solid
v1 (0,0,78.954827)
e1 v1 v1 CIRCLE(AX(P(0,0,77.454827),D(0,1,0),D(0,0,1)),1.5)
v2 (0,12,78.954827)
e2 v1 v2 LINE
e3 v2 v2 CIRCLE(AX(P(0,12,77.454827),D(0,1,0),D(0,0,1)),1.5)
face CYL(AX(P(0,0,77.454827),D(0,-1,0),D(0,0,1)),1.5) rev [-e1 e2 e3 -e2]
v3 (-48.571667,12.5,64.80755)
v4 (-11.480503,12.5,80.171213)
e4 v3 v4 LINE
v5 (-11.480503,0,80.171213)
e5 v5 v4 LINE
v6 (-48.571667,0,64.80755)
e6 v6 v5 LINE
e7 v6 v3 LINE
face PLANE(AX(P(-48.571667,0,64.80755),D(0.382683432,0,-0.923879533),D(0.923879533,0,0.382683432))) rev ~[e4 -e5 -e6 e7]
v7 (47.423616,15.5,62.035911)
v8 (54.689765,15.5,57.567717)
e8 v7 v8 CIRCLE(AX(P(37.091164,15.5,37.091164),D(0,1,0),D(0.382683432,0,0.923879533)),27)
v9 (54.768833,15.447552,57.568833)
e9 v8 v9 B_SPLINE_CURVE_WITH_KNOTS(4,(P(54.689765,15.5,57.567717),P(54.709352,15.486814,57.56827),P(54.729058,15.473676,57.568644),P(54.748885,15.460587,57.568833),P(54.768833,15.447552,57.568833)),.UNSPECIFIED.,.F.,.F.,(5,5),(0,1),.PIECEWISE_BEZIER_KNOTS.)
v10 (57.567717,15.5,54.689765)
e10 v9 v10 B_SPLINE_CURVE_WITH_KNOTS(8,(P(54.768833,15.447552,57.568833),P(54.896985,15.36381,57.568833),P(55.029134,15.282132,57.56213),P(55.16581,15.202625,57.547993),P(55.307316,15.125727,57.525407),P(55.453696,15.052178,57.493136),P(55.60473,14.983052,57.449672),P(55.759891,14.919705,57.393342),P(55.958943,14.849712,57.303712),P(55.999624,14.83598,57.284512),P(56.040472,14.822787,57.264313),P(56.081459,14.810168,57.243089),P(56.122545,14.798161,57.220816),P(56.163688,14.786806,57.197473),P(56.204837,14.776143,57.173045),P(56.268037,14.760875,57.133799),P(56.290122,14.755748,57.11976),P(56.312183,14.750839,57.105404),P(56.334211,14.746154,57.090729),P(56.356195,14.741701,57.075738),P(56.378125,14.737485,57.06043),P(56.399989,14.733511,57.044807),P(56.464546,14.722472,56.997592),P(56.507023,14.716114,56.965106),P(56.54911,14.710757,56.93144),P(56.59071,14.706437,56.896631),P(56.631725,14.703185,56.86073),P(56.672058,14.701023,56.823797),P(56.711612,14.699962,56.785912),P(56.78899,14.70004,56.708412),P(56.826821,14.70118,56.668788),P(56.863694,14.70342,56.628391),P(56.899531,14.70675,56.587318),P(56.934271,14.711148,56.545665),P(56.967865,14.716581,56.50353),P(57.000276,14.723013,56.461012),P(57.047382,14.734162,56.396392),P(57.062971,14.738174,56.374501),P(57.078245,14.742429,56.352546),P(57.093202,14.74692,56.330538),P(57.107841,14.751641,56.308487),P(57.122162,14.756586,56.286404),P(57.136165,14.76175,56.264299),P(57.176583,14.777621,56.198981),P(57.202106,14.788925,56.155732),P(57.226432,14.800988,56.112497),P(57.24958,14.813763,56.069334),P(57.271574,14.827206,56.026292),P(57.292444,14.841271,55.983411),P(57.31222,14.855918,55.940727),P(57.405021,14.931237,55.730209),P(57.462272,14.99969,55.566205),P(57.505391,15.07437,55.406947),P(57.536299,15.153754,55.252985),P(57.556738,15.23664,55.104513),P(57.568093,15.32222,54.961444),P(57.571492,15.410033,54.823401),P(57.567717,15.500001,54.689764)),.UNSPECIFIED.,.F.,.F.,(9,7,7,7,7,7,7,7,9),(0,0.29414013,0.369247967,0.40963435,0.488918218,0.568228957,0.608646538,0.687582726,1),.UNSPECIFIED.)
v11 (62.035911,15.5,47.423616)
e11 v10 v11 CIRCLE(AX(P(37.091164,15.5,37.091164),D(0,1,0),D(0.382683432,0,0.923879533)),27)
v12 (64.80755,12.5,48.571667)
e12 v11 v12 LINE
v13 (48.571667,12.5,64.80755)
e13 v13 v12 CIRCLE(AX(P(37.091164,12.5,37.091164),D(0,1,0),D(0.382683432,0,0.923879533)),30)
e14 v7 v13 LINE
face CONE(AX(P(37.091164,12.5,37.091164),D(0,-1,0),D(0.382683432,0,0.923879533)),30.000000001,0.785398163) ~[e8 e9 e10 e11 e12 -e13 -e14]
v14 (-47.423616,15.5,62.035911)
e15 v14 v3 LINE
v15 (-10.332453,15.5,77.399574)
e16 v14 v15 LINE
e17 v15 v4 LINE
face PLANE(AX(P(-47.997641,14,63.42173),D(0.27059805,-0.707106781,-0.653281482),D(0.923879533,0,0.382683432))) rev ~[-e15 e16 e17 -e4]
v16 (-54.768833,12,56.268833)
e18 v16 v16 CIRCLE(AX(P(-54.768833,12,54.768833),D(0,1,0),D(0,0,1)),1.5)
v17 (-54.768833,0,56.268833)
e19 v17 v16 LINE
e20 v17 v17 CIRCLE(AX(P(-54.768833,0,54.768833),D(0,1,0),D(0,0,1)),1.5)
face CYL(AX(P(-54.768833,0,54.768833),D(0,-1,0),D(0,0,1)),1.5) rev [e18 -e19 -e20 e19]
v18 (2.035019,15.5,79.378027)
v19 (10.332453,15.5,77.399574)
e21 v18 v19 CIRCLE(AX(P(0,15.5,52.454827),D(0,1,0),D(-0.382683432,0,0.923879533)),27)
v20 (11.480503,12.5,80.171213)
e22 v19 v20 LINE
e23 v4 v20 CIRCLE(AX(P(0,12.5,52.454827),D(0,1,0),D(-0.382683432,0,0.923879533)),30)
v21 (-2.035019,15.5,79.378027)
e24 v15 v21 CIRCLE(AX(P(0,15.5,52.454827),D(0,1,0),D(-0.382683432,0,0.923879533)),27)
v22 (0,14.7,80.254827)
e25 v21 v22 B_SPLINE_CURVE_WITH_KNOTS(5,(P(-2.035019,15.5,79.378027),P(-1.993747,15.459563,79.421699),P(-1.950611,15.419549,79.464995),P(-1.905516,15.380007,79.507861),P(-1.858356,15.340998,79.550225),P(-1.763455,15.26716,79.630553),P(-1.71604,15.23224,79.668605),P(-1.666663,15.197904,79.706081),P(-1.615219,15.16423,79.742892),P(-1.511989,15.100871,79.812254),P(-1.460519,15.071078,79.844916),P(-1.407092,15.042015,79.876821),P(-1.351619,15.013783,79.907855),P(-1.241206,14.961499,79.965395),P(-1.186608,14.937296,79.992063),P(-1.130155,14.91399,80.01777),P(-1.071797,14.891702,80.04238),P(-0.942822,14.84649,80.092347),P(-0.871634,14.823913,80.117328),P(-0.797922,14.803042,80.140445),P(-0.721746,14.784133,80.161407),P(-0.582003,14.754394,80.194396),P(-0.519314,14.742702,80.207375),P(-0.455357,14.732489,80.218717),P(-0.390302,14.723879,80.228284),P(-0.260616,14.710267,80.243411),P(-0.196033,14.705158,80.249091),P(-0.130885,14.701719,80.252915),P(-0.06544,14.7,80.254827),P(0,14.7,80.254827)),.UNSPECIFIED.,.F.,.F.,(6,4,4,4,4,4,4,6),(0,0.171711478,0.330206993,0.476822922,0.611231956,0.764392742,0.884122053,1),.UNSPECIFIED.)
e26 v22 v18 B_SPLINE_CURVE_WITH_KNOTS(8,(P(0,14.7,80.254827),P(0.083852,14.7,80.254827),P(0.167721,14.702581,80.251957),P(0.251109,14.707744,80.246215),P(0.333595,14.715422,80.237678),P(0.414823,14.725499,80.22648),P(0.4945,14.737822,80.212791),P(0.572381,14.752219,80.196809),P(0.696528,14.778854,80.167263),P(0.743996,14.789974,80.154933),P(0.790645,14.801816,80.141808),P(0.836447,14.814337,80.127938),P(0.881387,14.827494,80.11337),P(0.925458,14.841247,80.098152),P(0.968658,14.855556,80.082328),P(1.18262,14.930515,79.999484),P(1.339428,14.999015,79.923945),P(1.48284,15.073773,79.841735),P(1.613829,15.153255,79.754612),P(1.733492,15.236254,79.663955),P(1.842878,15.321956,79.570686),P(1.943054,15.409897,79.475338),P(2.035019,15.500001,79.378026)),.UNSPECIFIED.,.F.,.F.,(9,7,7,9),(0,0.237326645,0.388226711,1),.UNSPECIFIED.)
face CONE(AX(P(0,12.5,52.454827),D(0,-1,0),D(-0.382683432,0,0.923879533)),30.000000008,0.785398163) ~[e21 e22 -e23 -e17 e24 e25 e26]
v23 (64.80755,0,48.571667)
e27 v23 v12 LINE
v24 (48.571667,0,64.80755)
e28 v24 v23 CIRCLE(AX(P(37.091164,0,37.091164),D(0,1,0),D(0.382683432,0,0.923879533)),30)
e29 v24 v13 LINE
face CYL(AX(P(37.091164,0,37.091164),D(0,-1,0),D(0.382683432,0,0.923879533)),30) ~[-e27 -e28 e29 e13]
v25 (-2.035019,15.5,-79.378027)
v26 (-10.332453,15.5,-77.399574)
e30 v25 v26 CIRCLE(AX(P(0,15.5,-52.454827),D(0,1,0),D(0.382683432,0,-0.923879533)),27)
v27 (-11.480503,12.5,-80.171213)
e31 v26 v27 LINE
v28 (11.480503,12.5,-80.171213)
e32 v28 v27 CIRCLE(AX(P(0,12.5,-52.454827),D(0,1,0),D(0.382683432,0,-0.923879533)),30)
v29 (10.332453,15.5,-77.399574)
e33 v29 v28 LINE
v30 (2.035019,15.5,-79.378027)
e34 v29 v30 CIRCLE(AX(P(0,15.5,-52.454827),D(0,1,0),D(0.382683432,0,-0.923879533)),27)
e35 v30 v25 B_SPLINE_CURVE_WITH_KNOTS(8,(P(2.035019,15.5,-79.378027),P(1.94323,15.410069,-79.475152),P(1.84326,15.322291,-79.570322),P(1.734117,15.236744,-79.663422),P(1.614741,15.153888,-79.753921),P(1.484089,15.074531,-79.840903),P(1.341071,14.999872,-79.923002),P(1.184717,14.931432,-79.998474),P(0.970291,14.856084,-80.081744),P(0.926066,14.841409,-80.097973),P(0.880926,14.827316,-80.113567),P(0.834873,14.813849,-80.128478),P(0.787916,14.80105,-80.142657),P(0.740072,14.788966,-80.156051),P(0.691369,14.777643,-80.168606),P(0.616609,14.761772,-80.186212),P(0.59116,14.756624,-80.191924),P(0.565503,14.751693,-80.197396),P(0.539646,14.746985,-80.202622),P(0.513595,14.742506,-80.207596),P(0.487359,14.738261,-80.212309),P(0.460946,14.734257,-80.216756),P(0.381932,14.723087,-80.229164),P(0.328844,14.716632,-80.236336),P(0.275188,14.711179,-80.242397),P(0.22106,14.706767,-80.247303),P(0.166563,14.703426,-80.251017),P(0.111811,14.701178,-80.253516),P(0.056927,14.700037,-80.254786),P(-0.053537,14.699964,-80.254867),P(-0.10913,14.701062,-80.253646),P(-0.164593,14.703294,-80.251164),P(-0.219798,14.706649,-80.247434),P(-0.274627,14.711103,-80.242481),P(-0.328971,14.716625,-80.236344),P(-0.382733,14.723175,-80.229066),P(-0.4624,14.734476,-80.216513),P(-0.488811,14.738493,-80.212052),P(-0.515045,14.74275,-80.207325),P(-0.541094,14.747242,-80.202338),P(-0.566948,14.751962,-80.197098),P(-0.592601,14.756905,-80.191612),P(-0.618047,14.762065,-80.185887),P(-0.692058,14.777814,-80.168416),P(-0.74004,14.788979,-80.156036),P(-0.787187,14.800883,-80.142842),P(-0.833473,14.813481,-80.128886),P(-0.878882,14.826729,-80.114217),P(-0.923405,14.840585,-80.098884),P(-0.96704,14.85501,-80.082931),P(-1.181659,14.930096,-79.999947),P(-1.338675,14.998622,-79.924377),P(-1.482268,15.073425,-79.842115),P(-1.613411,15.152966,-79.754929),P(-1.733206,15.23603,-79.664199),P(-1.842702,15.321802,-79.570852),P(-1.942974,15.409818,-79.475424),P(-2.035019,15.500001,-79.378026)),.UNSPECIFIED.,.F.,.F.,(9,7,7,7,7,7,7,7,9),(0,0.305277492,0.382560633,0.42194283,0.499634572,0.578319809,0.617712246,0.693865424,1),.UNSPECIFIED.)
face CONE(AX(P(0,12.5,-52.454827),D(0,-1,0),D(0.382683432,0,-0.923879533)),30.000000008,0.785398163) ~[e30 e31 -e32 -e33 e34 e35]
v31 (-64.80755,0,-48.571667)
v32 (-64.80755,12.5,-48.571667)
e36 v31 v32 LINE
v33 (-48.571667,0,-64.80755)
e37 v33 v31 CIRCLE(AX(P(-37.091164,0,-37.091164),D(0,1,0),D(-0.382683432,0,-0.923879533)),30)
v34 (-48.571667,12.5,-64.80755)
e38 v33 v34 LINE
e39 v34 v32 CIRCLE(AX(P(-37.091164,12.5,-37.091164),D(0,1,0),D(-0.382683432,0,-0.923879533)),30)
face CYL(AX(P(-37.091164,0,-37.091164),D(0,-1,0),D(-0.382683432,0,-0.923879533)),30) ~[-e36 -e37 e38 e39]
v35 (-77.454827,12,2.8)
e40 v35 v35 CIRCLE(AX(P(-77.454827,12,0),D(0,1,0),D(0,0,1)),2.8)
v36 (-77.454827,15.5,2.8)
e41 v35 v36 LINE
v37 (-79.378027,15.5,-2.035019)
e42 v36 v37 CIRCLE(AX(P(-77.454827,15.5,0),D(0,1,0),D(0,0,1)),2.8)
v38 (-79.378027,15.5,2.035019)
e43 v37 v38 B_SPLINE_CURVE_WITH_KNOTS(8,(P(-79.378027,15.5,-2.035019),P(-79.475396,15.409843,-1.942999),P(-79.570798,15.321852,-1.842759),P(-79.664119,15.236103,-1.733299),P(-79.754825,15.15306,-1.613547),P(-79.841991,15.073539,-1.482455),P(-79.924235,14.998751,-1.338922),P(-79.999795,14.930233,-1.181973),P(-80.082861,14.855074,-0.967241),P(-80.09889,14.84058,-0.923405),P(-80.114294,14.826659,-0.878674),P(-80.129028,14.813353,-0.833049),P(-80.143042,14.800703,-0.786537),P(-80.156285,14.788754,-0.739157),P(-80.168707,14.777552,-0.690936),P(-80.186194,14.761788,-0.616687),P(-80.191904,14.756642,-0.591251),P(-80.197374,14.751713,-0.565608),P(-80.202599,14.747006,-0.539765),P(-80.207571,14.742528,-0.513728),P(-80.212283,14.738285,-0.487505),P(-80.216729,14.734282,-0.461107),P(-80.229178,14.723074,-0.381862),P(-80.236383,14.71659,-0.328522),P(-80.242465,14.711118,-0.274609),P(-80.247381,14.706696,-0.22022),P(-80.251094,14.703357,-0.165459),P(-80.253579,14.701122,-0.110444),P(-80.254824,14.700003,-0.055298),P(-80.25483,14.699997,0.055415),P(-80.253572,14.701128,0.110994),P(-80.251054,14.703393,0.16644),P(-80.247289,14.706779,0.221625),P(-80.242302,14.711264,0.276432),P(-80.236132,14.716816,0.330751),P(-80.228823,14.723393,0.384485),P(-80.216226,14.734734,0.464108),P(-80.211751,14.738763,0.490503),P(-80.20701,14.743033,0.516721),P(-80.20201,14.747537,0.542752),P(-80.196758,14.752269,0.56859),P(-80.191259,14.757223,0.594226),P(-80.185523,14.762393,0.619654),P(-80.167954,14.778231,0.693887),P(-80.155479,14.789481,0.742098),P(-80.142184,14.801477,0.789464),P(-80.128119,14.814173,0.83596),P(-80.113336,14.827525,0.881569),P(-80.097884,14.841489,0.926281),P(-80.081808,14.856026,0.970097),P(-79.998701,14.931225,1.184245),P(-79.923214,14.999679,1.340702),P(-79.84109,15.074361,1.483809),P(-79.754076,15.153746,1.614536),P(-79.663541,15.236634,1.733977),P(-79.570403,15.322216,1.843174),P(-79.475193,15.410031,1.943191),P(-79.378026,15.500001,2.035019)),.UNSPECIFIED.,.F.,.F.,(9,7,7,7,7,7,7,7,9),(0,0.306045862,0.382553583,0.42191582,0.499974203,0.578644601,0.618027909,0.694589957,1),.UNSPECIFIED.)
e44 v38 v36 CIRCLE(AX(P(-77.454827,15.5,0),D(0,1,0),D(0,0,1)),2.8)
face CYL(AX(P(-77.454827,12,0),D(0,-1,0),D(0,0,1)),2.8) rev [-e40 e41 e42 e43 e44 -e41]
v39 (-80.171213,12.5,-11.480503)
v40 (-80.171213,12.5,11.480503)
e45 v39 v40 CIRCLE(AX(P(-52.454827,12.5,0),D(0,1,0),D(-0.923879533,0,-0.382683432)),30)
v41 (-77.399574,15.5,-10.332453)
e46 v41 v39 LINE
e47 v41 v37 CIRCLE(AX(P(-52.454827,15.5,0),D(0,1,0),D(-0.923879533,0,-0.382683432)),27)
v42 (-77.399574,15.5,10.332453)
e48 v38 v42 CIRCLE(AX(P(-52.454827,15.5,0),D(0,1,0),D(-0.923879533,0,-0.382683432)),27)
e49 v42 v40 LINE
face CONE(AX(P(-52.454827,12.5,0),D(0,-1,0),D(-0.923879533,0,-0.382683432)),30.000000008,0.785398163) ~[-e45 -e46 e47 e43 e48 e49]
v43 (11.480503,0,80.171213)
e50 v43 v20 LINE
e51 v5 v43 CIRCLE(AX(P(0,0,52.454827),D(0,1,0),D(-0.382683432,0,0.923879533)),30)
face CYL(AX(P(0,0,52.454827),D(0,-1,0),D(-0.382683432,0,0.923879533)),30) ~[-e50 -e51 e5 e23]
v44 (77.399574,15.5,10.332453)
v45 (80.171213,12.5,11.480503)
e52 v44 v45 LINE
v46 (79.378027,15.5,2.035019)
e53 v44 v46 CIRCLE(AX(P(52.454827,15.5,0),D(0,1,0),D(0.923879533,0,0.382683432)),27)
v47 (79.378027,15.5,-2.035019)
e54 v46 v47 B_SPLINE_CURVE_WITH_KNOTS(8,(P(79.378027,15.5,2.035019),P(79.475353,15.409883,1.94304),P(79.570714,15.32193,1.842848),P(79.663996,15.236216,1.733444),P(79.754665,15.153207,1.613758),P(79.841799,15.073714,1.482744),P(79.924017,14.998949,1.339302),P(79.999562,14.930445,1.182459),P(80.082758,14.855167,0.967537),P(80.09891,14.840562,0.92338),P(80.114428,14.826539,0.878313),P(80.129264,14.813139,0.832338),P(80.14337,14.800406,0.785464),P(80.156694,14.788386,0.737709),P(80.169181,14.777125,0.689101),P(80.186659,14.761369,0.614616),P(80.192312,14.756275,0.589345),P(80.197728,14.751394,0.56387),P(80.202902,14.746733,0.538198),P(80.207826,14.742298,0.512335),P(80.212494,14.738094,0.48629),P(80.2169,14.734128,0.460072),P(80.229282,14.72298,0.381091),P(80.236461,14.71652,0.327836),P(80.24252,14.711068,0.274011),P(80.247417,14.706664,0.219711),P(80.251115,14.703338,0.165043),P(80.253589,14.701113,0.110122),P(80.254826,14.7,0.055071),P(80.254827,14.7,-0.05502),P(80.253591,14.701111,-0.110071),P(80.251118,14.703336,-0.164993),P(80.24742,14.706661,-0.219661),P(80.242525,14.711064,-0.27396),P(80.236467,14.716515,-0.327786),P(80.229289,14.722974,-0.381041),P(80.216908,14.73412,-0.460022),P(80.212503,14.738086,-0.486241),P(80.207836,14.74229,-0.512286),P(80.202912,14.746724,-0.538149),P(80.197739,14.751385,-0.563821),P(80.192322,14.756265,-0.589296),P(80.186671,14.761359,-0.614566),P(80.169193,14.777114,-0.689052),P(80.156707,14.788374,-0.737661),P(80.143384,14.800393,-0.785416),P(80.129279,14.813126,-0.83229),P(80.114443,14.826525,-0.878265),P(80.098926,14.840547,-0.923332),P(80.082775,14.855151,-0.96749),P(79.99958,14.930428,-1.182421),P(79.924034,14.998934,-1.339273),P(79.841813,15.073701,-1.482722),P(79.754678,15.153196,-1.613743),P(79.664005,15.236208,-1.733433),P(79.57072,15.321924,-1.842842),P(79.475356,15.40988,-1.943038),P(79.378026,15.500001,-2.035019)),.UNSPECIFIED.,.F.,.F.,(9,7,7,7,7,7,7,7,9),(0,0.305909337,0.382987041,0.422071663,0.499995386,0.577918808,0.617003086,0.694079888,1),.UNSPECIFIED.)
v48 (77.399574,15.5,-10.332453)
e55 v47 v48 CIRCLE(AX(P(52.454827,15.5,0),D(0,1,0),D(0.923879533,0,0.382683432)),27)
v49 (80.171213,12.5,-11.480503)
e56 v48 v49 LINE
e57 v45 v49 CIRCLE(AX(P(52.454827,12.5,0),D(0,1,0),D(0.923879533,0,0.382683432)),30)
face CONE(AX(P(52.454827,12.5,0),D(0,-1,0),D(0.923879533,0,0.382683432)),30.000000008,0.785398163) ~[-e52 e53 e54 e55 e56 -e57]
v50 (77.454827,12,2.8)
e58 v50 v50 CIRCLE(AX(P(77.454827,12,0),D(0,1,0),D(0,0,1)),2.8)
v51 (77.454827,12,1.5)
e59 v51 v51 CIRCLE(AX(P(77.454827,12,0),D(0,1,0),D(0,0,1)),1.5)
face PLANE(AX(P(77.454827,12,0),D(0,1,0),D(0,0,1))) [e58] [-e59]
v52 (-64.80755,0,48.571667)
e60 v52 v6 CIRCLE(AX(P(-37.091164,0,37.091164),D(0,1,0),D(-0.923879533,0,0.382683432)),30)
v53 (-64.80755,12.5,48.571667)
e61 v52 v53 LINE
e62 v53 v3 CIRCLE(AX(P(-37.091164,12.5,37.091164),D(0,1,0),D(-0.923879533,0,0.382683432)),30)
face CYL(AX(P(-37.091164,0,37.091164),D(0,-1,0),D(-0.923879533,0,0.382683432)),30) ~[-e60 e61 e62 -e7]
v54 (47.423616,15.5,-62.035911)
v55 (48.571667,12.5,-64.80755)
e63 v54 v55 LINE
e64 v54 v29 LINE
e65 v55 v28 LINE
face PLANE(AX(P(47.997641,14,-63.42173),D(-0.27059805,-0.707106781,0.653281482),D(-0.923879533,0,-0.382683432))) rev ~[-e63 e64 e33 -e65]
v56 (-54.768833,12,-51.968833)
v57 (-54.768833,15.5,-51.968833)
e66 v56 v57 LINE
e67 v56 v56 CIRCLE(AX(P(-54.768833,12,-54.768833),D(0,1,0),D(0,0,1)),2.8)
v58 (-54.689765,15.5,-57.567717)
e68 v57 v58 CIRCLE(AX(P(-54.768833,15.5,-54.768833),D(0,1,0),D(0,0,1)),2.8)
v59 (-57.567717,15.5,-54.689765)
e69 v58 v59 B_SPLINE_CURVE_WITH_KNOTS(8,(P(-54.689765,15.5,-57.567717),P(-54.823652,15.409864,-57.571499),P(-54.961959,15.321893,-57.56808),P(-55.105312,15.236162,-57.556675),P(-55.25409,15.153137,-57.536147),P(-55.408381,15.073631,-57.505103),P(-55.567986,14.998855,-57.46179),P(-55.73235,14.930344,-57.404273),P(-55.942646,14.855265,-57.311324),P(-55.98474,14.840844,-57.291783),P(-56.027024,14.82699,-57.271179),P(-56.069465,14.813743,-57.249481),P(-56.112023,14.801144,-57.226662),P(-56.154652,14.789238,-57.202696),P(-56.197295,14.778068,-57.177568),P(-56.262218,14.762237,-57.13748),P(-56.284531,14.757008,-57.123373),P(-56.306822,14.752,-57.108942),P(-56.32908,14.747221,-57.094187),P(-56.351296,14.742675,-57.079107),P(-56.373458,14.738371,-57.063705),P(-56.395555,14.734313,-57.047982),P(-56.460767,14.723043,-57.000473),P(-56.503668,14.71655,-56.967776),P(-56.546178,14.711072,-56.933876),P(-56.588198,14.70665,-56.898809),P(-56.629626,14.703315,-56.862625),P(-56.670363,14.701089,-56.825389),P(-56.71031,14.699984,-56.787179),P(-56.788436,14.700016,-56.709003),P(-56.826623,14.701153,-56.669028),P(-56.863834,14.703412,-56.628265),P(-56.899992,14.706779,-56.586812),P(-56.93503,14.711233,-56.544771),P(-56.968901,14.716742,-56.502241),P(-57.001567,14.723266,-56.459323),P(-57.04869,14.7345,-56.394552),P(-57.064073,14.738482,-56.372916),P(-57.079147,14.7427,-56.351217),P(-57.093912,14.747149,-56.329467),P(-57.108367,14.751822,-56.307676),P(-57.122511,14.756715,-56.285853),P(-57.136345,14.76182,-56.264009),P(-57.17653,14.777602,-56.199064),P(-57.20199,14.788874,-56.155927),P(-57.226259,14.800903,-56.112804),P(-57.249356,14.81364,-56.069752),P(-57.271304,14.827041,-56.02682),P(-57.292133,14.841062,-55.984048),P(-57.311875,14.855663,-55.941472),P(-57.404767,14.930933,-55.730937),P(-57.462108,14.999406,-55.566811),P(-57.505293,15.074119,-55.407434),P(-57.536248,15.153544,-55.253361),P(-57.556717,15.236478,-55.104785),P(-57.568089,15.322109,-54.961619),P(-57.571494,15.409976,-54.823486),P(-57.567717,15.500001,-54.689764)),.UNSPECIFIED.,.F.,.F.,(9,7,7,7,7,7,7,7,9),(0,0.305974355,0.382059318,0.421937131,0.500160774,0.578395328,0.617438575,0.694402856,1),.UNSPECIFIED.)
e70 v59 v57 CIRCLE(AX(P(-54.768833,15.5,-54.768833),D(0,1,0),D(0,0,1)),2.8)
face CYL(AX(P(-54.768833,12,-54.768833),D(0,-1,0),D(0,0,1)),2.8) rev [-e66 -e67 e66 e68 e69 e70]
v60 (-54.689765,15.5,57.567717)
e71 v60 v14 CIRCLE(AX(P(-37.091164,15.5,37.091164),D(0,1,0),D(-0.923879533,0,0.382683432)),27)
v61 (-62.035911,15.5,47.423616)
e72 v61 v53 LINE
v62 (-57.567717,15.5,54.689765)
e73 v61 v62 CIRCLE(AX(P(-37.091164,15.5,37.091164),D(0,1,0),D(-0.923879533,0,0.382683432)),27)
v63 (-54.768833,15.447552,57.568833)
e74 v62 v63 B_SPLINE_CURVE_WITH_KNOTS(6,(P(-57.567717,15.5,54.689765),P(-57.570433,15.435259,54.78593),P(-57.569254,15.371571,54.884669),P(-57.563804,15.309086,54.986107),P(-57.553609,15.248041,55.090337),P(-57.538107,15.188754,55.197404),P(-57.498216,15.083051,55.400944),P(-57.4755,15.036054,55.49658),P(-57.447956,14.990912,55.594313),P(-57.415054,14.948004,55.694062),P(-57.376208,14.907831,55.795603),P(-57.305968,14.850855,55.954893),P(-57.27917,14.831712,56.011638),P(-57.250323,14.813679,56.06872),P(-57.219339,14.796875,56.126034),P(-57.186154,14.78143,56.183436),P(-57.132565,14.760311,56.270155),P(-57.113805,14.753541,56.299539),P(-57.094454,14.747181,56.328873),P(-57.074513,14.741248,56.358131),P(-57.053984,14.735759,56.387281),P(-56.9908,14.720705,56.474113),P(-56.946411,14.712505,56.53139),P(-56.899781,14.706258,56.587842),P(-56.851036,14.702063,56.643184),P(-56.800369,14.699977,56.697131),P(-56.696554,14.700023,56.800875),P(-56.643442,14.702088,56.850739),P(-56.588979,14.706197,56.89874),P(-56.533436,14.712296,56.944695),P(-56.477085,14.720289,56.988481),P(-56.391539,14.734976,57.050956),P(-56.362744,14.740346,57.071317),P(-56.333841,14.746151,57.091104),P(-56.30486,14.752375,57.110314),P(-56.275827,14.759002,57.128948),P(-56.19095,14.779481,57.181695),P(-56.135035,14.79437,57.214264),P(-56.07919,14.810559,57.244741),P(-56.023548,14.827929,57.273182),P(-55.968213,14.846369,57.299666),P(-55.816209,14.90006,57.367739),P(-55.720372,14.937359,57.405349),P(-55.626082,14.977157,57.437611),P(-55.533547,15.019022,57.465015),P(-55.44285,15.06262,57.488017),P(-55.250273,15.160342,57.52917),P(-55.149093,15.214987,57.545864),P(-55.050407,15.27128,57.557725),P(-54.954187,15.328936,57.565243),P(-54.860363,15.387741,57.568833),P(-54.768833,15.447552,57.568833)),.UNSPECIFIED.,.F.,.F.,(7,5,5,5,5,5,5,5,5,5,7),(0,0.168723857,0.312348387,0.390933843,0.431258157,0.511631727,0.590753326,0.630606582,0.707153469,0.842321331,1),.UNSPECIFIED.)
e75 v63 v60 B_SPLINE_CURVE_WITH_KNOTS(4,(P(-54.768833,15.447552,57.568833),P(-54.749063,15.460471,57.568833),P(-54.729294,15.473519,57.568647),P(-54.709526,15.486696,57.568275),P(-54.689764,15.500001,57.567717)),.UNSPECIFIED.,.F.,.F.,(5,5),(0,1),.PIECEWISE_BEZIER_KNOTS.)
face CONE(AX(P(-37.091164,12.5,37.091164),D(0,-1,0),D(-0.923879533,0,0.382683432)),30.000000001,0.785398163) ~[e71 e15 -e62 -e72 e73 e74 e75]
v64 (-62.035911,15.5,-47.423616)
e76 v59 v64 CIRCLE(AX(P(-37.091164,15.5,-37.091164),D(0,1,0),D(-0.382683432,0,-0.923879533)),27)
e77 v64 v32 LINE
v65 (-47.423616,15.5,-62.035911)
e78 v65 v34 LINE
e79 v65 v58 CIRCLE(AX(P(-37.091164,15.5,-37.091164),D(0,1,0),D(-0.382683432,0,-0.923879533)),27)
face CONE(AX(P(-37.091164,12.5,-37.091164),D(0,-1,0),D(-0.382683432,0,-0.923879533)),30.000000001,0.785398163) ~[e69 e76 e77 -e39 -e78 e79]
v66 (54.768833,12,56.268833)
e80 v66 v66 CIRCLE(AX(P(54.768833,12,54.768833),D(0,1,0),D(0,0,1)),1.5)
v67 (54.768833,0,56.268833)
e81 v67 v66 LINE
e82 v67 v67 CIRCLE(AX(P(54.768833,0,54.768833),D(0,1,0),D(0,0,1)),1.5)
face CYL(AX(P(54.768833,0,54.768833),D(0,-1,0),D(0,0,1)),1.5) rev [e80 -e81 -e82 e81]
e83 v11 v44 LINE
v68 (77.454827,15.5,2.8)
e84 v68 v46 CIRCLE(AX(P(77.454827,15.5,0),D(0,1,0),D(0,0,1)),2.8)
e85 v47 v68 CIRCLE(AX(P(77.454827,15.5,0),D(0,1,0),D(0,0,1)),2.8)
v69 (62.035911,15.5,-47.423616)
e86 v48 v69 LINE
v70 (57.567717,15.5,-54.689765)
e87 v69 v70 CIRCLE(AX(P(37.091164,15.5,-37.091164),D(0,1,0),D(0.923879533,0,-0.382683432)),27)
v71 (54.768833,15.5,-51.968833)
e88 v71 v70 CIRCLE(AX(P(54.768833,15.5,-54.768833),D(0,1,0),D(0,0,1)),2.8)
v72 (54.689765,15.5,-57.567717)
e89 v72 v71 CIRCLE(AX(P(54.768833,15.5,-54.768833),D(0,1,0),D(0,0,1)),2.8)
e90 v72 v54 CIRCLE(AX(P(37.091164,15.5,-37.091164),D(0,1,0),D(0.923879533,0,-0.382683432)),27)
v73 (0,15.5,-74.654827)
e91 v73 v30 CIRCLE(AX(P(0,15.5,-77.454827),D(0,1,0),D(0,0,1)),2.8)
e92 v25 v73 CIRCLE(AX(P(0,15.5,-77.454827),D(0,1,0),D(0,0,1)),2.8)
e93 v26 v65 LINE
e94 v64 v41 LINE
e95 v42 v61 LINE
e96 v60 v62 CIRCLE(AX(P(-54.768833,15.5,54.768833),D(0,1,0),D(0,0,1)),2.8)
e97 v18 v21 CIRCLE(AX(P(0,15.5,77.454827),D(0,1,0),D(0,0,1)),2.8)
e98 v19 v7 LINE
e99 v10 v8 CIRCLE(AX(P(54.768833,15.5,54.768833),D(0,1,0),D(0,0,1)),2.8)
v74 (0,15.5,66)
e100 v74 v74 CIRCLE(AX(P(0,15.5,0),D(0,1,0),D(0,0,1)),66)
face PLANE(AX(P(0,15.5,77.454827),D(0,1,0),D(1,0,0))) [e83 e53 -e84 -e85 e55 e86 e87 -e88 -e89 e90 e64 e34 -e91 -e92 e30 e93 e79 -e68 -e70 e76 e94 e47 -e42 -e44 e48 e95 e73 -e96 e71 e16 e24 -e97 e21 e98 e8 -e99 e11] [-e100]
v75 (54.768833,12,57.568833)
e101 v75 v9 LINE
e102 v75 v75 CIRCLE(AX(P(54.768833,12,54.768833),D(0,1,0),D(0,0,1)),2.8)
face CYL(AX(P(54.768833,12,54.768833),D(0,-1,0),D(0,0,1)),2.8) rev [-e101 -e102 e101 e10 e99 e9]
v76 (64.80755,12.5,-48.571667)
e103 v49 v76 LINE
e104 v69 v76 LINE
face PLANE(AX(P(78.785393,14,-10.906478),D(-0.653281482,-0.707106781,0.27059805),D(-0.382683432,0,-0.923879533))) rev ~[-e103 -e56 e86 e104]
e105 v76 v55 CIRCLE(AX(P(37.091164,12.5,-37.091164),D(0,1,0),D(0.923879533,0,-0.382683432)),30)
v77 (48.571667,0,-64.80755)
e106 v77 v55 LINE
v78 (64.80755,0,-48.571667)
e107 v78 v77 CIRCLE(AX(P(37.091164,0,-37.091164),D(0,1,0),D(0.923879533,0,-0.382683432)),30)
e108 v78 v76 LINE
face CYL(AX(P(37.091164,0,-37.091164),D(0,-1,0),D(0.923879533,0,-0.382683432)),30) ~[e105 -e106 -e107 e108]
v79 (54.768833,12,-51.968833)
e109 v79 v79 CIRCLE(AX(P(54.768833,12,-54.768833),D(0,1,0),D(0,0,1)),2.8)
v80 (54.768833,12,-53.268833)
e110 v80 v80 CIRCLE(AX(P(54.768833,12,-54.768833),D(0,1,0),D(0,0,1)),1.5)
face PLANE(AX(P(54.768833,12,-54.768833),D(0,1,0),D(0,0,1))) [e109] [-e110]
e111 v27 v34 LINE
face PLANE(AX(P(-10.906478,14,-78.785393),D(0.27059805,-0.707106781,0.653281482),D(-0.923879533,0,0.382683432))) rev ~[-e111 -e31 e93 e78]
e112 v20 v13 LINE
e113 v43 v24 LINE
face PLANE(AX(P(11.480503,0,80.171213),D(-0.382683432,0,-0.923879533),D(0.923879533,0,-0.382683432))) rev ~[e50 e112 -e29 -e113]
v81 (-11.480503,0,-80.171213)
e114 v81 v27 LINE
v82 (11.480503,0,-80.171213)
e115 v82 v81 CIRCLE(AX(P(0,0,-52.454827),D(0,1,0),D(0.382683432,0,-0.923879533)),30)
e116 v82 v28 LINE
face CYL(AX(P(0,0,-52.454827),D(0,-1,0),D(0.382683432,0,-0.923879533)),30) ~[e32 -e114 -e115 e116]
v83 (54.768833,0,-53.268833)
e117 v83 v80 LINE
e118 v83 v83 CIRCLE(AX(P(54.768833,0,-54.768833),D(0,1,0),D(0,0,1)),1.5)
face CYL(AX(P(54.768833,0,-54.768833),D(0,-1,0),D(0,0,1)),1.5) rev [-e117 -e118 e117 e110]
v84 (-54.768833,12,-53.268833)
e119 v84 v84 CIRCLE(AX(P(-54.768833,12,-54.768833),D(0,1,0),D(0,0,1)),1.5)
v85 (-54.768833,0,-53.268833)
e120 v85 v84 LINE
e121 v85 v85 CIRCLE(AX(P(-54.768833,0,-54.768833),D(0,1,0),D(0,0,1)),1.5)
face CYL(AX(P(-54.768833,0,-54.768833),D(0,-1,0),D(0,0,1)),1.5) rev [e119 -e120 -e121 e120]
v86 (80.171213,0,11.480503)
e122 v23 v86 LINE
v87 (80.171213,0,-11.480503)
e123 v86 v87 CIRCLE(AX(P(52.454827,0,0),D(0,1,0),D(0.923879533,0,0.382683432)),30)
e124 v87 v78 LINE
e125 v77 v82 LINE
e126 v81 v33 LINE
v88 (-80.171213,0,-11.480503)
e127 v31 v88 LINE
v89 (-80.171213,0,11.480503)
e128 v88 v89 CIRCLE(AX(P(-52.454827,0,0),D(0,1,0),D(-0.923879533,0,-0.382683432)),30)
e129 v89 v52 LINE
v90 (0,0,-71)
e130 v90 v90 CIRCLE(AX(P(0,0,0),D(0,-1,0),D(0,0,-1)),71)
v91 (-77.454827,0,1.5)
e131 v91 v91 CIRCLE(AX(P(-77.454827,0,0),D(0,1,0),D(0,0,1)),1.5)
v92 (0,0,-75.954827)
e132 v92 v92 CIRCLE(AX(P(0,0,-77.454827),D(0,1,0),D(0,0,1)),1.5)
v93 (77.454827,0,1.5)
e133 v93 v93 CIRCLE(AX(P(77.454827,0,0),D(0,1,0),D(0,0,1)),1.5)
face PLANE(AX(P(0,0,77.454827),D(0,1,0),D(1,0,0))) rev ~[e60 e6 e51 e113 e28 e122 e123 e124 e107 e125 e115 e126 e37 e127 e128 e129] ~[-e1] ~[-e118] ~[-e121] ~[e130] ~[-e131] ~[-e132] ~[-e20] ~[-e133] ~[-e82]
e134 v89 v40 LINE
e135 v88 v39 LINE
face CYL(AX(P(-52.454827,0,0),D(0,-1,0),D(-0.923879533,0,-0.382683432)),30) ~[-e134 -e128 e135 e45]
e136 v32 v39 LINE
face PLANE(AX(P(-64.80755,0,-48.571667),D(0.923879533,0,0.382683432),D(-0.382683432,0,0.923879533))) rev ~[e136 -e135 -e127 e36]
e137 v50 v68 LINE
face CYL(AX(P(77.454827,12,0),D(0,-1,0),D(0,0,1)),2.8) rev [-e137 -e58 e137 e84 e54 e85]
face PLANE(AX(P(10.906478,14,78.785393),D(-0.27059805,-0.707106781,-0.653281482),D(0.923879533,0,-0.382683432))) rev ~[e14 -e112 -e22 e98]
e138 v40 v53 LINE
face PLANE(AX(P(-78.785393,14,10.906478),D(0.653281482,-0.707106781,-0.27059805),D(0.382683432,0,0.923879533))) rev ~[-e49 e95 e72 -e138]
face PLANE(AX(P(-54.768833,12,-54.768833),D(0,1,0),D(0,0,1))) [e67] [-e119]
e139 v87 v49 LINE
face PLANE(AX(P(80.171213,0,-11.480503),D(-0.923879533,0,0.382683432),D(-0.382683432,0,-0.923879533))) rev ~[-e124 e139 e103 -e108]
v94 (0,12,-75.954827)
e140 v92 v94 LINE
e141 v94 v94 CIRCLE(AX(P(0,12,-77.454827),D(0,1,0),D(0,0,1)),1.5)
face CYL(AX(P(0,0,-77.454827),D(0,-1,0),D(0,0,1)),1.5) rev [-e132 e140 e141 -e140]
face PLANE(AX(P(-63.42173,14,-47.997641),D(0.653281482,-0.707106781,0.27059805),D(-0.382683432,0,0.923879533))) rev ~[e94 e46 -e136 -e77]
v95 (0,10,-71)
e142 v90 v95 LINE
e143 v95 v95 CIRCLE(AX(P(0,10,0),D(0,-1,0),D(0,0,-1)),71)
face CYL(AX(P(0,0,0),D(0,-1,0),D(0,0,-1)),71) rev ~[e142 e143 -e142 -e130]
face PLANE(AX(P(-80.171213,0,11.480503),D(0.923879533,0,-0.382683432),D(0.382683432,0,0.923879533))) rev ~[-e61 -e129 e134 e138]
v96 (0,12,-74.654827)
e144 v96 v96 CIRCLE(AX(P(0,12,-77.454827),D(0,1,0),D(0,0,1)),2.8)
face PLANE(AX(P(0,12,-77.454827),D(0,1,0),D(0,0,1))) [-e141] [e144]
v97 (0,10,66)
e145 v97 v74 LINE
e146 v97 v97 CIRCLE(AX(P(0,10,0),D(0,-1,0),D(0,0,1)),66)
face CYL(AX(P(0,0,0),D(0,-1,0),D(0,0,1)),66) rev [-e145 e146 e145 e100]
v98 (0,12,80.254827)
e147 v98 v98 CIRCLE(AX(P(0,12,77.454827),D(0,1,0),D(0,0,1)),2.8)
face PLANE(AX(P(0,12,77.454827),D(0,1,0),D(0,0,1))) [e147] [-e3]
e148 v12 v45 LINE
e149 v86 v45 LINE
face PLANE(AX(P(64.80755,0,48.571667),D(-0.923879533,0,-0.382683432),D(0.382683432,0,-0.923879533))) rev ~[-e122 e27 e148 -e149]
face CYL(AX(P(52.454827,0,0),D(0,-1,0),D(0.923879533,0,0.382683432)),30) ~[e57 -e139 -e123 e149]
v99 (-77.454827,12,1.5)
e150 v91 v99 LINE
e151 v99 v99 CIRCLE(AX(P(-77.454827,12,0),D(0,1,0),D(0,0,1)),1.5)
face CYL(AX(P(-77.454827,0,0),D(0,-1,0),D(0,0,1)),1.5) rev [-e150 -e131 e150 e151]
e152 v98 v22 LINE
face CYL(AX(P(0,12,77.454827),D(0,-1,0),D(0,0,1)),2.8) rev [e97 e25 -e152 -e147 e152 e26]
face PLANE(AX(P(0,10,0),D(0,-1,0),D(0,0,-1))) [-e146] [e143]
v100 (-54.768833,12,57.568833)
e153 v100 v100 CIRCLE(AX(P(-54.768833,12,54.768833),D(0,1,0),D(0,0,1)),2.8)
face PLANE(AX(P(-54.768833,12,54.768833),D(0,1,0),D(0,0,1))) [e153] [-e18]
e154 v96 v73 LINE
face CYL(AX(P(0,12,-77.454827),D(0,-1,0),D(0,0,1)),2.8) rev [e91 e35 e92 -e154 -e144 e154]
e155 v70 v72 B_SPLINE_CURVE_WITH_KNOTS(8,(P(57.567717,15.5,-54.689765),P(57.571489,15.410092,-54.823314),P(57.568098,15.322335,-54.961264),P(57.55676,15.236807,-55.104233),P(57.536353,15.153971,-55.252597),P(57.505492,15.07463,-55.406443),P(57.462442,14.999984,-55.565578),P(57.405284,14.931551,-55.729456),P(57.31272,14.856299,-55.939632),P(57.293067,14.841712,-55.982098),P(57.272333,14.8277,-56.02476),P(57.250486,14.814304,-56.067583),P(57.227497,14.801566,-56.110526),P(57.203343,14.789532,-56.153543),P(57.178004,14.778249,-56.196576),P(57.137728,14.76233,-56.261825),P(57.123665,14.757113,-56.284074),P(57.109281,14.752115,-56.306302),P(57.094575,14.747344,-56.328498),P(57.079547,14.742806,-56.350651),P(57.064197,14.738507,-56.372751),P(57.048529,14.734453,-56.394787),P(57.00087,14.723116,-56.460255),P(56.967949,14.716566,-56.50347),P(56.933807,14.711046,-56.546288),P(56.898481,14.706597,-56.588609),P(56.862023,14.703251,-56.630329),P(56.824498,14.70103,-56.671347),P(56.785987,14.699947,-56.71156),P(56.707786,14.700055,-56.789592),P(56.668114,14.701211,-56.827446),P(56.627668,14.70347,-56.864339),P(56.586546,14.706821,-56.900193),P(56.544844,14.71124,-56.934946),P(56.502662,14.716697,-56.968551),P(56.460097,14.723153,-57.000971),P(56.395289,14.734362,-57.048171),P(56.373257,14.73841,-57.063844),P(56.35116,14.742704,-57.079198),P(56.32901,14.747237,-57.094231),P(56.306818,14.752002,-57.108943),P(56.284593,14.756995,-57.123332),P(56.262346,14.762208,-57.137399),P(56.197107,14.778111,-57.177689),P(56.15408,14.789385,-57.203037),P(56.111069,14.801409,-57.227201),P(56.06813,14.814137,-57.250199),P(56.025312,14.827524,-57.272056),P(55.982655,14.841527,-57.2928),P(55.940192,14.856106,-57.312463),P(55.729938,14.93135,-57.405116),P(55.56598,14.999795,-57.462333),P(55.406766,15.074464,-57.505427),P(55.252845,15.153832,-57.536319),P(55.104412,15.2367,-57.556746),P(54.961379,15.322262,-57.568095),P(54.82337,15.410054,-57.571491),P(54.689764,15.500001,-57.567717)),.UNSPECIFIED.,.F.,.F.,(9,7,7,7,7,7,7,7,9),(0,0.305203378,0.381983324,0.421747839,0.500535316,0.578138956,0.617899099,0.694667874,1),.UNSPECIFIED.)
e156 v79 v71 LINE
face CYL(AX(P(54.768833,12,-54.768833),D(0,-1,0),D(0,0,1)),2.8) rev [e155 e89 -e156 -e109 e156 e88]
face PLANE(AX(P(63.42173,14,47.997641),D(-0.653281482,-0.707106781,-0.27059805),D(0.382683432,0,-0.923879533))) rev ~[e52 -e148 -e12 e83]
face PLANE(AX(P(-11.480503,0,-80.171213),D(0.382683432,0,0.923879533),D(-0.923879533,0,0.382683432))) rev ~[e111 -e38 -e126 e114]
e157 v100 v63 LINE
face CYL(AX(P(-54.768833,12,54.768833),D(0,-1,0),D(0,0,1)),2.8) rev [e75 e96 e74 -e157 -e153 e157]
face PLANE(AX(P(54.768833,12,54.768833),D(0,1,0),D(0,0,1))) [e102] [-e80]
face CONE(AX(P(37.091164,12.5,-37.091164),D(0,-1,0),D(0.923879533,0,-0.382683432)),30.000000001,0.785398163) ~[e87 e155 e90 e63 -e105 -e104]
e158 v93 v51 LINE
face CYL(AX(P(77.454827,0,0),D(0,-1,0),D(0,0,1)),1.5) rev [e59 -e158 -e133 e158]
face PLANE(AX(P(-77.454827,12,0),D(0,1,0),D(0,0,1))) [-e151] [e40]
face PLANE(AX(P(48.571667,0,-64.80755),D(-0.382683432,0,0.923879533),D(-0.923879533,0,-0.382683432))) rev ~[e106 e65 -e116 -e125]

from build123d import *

# Parameters (mm, degrees)
SKETCH1_R           = 66
SKETCH1_R_2         = 2.8
SKETCH1_R_3         = 1.5
BOSS_EXTRUDE1_DEPTH = 15.5
SKETCH2_R           = 71
CUT_EXTRUDE1_DEPTH  = 10
CHAMFER1_SIZE       = 3
CUT_EXTRUDE2_START  = 12
SKETCH1_6_R         = 2.8
SKETCH1_6_R_2       = 1.5
CUT_EXTRUDE2_DEPTH  = 3.5


with BuildPart() as part:
    # Sketch1 → Boss-Extrude1 (new body)
    # profile 1 of 9: a face of its own
    with BuildSketch(Plane(origin=(0, 0, 0), x_dir=(1, 0, 0), z_dir=(0, 1, 0))):
        with BuildLine():
            Line((-48.571666642, -64.807549647), (-11.480502971, -80.171212684))
            ThreePointArc((-11.480502971, -80.171212684), (0, -82.454826708), (11.480502971, -80.171212684))
            Line((11.480502971, -80.171212684), (48.571666642, -64.807549647))
            ThreePointArc((48.571666642, -64.807549647), (58.304367107, -58.304367107), (64.807549647, -48.571666642))
            Line((64.807549647, -48.571666642), (80.171212684, -11.480502971))
            ThreePointArc((80.171212684, -11.480502971), (82.454826708, 0), (80.171212684, 11.480502971))
            Line((80.171212684, 11.480502971), (64.807549647, 48.571666642))
            ThreePointArc((64.807549647, 48.571666642), (58.304367107, 58.304367107), (48.571666642, 64.807549647))
            Line((48.571666642, 64.807549647), (11.480502971, 80.171212684))
            ThreePointArc((11.480502971, 80.171212684), (0, 82.454826708), (-11.480502971, 80.171212684))
            Line((-11.480502971, 80.171212684), (-48.571666642, 64.807549647))
            ThreePointArc((-48.571666642, 64.807549647), (-58.304367107, 58.304367107), (-64.807549647, 48.571666642))
            Line((-64.807549647, 48.571666642), (-80.171212684, 11.480502971))
            ThreePointArc((-80.171212684, 11.480502971), (-82.454826708, 0), (-80.171212684, -11.480502971))
            Line((-80.171212684, -11.480502971), (-64.807549647, -48.571666642))
            ThreePointArc((-64.807549647, -48.571666642), (-58.304367107, -58.304367107), (-48.571666642, -64.807549647))
        make_face()
        with Locations(Location((0, 0, 0), (0, 0, 270))):
            Circle(SKETCH1_R, mode=Mode.SUBTRACT)
        with Locations((-77.454826708, 0)):
            Circle(SKETCH1_R_2, mode=Mode.SUBTRACT)
        with Locations((-54.768833201, -54.768833201)):
            Circle(SKETCH1_R_2, mode=Mode.SUBTRACT)
        with Locations((0, -77.454826708)):
            Circle(SKETCH1_R_2, mode=Mode.SUBTRACT)
        with Locations((54.768833201, -54.768833201)):
            Circle(SKETCH1_R_2, mode=Mode.SUBTRACT)
        with Locations((77.454826708, 0)):
            Circle(SKETCH1_R_2, mode=Mode.SUBTRACT)
        with Locations((54.768833201, 54.768833201)):
            Circle(SKETCH1_R_2, mode=Mode.SUBTRACT)
        with Locations((0, 77.454826708)):
            Circle(SKETCH1_R_2, mode=Mode.SUBTRACT)
        with Locations((-54.768833201, 54.768833201)):
            Circle(SKETCH1_R_2, mode=Mode.SUBTRACT)
    # profile 2 of 9: a face of its own
    with BuildSketch(Plane(origin=(0, 0, 0), x_dir=(1, 0, 0), z_dir=(0, 1, 0))):
        with Locations((-54.768833201, -54.768833201)):
            Circle(SKETCH1_R_2)
        with Locations(Location((-54.768833201, -54.768833201, 0), (0, 0, 270))):
            Circle(SKETCH1_R_3, mode=Mode.SUBTRACT)
    # profile 3 of 9: a face of its own
    with BuildSketch(Plane(origin=(0, 0, 0), x_dir=(1, 0, 0), z_dir=(0, 1, 0))):
        with Locations((-77.454826708, 0)):
            Circle(SKETCH1_R_2)
        with Locations(Location((-77.454826708, 0, 0), (0, 0, 270))):
            Circle(SKETCH1_R_3, mode=Mode.SUBTRACT)
    # profile 4 of 9: a face of its own
    with BuildSketch(Plane(origin=(0, 0, 0), x_dir=(1, 0, 0), z_dir=(0, 1, 0))):
        with Locations((-54.768833201, 54.768833201)):
            Circle(SKETCH1_R_2)
        with Locations(Location((-54.768833201, 54.768833201, 0), (0, 0, 270))):
            Circle(SKETCH1_R_3, mode=Mode.SUBTRACT)
    # profile 5 of 9: a face of its own
    with BuildSketch(Plane(origin=(0, 0, 0), x_dir=(1, 0, 0), z_dir=(0, 1, 0))):
        with Locations((0, 77.454826708)):
            Circle(SKETCH1_R_2)
        with Locations(Location((0, 77.454826708, 0), (0, 0, 270))):
            Circle(SKETCH1_R_3, mode=Mode.SUBTRACT)
    # profile 6 of 9: a face of its own
    with BuildSketch(Plane(origin=(0, 0, 0), x_dir=(1, 0, 0), z_dir=(0, 1, 0))):
        with Locations((54.768833201, 54.768833201)):
            Circle(SKETCH1_R_2)
        with Locations(Location((54.768833201, 54.768833201, 0), (0, 0, 270))):
            Circle(SKETCH1_R_3, mode=Mode.SUBTRACT)
    # profile 7 of 9: a face of its own
    with BuildSketch(Plane(origin=(0, 0, 0), x_dir=(1, 0, 0), z_dir=(0, 1, 0))):
        with Locations((77.454826708, 0)):
            Circle(SKETCH1_R_2)
        with Locations(Location((77.454826708, 0, 0), (0, 0, 270))):
            Circle(SKETCH1_R_3, mode=Mode.SUBTRACT)
    # profile 8 of 9: a face of its own
    with BuildSketch(Plane(origin=(0, 0, 0), x_dir=(1, 0, 0), z_dir=(0, 1, 0))):
        with Locations((54.768833201, -54.768833201)):
            Circle(SKETCH1_R_2)
        with Locations(Location((54.768833201, -54.768833201, 0), (0, 0, 270))):
            Circle(SKETCH1_R_3, mode=Mode.SUBTRACT)
    # profile 9 of 9: a face of its own
    with BuildSketch(Plane(origin=(0, 0, 0), x_dir=(1, 0, 0), z_dir=(0, 1, 0))):
        with Locations((0, -77.454826708)):
            Circle(SKETCH1_R_2)
        with Locations(Location((0, -77.454826708, 0), (0, 0, 270))):
            Circle(SKETCH1_R_3, mode=Mode.SUBTRACT)
    extrude(amount=BOSS_EXTRUDE1_DEPTH)

    # Sketch2 → Cut-Extrude1 (cut)
    with BuildSketch(Plane.XZ):
        with Locations(Location((0, 0, 0), (0, 0, 270))):
            Circle(SKETCH2_R)
    extrude(amount=-CUT_EXTRUDE1_DEPTH, mode=Mode.SUBTRACT)

    # Chamfer1
    chamfer1_edges = [part.edges().sort_by_distance(p)[0] for p in [
        (-30.026084807, 15.5, 72.489381165),
        (0, 15.5, 82.454826708),
        (30.026084807, 15.5, 72.489381165),
        (58.304367107, 15.5, 58.304367107),
        (72.489381165, 15.5, 30.026084807),
        (82.454826708, 15.5, 0),
        (72.489381165, 15.5, -30.026084807),
        (58.304367107, 15.5, -58.304367107),
        (30.026084807, 15.5, -72.489381165),
        (0, 15.5, -82.454826708),
        (-30.026084807, 15.5, -72.489381165),
        (-58.304367107, 15.5, -58.304367107),
        (-72.489381165, 15.5, -30.026084807),
        (-82.454826708, 15.5, 0),
        (-72.489381165, 15.5, 30.026084807),
        (-58.304367107, 15.5, 58.304367107),
    ]]
    chamfer(chamfer1_edges, length=CHAMFER1_SIZE)

    # Sketch1<6> → Cut-Extrude2 (cut)
    # profile 1 of 8: a face of its own
    with BuildSketch(Plane(origin=(0, 0, 0), x_dir=(1, 0, 0), z_dir=(0, 1, 0)).offset(CUT_EXTRUDE2_START)):
        with Locations(Location((-54.768833201, -54.768833201, 0), (0, 0, 270))):
            Circle(SKETCH1_6_R)
        with Locations(Location((-54.768833201, -54.768833201, 0), (0, 0, 270))):
            Circle(SKETCH1_6_R_2, mode=Mode.SUBTRACT)
    # profile 2 of 8: a face of its own
    with BuildSketch(Plane(origin=(0, 0, 0), x_dir=(1, 0, 0), z_dir=(0, 1, 0)).offset(CUT_EXTRUDE2_START)):
        with Locations(Location((0, -77.454826708, 0), (0, 0, 270))):
            Circle(SKETCH1_6_R)
        with Locations(Location((0, -77.454826708, 0), (0, 0, 270))):
            Circle(SKETCH1_6_R_2, mode=Mode.SUBTRACT)
    # profile 3 of 8: a face of its own
    with BuildSketch(Plane(origin=(0, 0, 0), x_dir=(1, 0, 0), z_dir=(0, 1, 0)).offset(CUT_EXTRUDE2_START)):
        with Locations(Location((54.768833201, -54.768833201, 0), (0, 0, 270))):
            Circle(SKETCH1_6_R)
        with Locations(Location((54.768833201, -54.768833201, 0), (0, 0, 270))):
            Circle(SKETCH1_6_R_2, mode=Mode.SUBTRACT)
    # profile 4 of 8: a face of its own
    with BuildSketch(Plane(origin=(0, 0, 0), x_dir=(1, 0, 0), z_dir=(0, 1, 0)).offset(CUT_EXTRUDE2_START)):
        with Locations(Location((77.454826708, 0, 0), (0, 0, 270))):
            Circle(SKETCH1_6_R)
        with Locations(Location((77.454826708, 0, 0), (0, 0, 270))):
            Circle(SKETCH1_6_R_2, mode=Mode.SUBTRACT)
    # profile 5 of 8: a face of its own
    with BuildSketch(Plane(origin=(0, 0, 0), x_dir=(1, 0, 0), z_dir=(0, 1, 0)).offset(CUT_EXTRUDE2_START)):
        with Locations(Location((54.768833201, 54.768833201, 0), (0, 0, 270))):
            Circle(SKETCH1_6_R)
        with Locations(Location((54.768833201, 54.768833201, 0), (0, 0, 270))):
            Circle(SKETCH1_6_R_2, mode=Mode.SUBTRACT)
    # profile 6 of 8: a face of its own
    with BuildSketch(Plane(origin=(0, 0, 0), x_dir=(1, 0, 0), z_dir=(0, 1, 0)).offset(CUT_EXTRUDE2_START)):
        with Locations(Location((0, 77.454826708, 0), (0, 0, 270))):
            Circle(SKETCH1_6_R)
        with Locations(Location((0, 77.454826708, 0), (0, 0, 270))):
            Circle(SKETCH1_6_R_2, mode=Mode.SUBTRACT)
    # profile 7 of 8: a face of its own
    with BuildSketch(Plane(origin=(0, 0, 0), x_dir=(1, 0, 0), z_dir=(0, 1, 0)).offset(CUT_EXTRUDE2_START)):
        with Locations(Location((-54.768833201, 54.768833201, 0), (0, 0, 270))):
            Circle(SKETCH1_6_R)
        with Locations(Location((-54.768833201, 54.768833201, 0), (0, 0, 270))):
            Circle(SKETCH1_6_R_2, mode=Mode.SUBTRACT)
    # profile 8 of 8: a face of its own
    with BuildSketch(Plane(origin=(0, 0, 0), x_dir=(1, 0, 0), z_dir=(0, 1, 0)).offset(CUT_EXTRUDE2_START)):
        with Locations(Location((-77.454826708, 0, 0), (0, 0, 270))):
            Circle(SKETCH1_6_R)
        with Locations(Location((-77.454826708, 0, 0), (0, 0, 270))):
            Circle(SKETCH1_6_R_2, mode=Mode.SUBTRACT)
    extrude(amount=CUT_EXTRUDE2_DEPTH, mode=Mode.SUBTRACT)


solid = part.part
